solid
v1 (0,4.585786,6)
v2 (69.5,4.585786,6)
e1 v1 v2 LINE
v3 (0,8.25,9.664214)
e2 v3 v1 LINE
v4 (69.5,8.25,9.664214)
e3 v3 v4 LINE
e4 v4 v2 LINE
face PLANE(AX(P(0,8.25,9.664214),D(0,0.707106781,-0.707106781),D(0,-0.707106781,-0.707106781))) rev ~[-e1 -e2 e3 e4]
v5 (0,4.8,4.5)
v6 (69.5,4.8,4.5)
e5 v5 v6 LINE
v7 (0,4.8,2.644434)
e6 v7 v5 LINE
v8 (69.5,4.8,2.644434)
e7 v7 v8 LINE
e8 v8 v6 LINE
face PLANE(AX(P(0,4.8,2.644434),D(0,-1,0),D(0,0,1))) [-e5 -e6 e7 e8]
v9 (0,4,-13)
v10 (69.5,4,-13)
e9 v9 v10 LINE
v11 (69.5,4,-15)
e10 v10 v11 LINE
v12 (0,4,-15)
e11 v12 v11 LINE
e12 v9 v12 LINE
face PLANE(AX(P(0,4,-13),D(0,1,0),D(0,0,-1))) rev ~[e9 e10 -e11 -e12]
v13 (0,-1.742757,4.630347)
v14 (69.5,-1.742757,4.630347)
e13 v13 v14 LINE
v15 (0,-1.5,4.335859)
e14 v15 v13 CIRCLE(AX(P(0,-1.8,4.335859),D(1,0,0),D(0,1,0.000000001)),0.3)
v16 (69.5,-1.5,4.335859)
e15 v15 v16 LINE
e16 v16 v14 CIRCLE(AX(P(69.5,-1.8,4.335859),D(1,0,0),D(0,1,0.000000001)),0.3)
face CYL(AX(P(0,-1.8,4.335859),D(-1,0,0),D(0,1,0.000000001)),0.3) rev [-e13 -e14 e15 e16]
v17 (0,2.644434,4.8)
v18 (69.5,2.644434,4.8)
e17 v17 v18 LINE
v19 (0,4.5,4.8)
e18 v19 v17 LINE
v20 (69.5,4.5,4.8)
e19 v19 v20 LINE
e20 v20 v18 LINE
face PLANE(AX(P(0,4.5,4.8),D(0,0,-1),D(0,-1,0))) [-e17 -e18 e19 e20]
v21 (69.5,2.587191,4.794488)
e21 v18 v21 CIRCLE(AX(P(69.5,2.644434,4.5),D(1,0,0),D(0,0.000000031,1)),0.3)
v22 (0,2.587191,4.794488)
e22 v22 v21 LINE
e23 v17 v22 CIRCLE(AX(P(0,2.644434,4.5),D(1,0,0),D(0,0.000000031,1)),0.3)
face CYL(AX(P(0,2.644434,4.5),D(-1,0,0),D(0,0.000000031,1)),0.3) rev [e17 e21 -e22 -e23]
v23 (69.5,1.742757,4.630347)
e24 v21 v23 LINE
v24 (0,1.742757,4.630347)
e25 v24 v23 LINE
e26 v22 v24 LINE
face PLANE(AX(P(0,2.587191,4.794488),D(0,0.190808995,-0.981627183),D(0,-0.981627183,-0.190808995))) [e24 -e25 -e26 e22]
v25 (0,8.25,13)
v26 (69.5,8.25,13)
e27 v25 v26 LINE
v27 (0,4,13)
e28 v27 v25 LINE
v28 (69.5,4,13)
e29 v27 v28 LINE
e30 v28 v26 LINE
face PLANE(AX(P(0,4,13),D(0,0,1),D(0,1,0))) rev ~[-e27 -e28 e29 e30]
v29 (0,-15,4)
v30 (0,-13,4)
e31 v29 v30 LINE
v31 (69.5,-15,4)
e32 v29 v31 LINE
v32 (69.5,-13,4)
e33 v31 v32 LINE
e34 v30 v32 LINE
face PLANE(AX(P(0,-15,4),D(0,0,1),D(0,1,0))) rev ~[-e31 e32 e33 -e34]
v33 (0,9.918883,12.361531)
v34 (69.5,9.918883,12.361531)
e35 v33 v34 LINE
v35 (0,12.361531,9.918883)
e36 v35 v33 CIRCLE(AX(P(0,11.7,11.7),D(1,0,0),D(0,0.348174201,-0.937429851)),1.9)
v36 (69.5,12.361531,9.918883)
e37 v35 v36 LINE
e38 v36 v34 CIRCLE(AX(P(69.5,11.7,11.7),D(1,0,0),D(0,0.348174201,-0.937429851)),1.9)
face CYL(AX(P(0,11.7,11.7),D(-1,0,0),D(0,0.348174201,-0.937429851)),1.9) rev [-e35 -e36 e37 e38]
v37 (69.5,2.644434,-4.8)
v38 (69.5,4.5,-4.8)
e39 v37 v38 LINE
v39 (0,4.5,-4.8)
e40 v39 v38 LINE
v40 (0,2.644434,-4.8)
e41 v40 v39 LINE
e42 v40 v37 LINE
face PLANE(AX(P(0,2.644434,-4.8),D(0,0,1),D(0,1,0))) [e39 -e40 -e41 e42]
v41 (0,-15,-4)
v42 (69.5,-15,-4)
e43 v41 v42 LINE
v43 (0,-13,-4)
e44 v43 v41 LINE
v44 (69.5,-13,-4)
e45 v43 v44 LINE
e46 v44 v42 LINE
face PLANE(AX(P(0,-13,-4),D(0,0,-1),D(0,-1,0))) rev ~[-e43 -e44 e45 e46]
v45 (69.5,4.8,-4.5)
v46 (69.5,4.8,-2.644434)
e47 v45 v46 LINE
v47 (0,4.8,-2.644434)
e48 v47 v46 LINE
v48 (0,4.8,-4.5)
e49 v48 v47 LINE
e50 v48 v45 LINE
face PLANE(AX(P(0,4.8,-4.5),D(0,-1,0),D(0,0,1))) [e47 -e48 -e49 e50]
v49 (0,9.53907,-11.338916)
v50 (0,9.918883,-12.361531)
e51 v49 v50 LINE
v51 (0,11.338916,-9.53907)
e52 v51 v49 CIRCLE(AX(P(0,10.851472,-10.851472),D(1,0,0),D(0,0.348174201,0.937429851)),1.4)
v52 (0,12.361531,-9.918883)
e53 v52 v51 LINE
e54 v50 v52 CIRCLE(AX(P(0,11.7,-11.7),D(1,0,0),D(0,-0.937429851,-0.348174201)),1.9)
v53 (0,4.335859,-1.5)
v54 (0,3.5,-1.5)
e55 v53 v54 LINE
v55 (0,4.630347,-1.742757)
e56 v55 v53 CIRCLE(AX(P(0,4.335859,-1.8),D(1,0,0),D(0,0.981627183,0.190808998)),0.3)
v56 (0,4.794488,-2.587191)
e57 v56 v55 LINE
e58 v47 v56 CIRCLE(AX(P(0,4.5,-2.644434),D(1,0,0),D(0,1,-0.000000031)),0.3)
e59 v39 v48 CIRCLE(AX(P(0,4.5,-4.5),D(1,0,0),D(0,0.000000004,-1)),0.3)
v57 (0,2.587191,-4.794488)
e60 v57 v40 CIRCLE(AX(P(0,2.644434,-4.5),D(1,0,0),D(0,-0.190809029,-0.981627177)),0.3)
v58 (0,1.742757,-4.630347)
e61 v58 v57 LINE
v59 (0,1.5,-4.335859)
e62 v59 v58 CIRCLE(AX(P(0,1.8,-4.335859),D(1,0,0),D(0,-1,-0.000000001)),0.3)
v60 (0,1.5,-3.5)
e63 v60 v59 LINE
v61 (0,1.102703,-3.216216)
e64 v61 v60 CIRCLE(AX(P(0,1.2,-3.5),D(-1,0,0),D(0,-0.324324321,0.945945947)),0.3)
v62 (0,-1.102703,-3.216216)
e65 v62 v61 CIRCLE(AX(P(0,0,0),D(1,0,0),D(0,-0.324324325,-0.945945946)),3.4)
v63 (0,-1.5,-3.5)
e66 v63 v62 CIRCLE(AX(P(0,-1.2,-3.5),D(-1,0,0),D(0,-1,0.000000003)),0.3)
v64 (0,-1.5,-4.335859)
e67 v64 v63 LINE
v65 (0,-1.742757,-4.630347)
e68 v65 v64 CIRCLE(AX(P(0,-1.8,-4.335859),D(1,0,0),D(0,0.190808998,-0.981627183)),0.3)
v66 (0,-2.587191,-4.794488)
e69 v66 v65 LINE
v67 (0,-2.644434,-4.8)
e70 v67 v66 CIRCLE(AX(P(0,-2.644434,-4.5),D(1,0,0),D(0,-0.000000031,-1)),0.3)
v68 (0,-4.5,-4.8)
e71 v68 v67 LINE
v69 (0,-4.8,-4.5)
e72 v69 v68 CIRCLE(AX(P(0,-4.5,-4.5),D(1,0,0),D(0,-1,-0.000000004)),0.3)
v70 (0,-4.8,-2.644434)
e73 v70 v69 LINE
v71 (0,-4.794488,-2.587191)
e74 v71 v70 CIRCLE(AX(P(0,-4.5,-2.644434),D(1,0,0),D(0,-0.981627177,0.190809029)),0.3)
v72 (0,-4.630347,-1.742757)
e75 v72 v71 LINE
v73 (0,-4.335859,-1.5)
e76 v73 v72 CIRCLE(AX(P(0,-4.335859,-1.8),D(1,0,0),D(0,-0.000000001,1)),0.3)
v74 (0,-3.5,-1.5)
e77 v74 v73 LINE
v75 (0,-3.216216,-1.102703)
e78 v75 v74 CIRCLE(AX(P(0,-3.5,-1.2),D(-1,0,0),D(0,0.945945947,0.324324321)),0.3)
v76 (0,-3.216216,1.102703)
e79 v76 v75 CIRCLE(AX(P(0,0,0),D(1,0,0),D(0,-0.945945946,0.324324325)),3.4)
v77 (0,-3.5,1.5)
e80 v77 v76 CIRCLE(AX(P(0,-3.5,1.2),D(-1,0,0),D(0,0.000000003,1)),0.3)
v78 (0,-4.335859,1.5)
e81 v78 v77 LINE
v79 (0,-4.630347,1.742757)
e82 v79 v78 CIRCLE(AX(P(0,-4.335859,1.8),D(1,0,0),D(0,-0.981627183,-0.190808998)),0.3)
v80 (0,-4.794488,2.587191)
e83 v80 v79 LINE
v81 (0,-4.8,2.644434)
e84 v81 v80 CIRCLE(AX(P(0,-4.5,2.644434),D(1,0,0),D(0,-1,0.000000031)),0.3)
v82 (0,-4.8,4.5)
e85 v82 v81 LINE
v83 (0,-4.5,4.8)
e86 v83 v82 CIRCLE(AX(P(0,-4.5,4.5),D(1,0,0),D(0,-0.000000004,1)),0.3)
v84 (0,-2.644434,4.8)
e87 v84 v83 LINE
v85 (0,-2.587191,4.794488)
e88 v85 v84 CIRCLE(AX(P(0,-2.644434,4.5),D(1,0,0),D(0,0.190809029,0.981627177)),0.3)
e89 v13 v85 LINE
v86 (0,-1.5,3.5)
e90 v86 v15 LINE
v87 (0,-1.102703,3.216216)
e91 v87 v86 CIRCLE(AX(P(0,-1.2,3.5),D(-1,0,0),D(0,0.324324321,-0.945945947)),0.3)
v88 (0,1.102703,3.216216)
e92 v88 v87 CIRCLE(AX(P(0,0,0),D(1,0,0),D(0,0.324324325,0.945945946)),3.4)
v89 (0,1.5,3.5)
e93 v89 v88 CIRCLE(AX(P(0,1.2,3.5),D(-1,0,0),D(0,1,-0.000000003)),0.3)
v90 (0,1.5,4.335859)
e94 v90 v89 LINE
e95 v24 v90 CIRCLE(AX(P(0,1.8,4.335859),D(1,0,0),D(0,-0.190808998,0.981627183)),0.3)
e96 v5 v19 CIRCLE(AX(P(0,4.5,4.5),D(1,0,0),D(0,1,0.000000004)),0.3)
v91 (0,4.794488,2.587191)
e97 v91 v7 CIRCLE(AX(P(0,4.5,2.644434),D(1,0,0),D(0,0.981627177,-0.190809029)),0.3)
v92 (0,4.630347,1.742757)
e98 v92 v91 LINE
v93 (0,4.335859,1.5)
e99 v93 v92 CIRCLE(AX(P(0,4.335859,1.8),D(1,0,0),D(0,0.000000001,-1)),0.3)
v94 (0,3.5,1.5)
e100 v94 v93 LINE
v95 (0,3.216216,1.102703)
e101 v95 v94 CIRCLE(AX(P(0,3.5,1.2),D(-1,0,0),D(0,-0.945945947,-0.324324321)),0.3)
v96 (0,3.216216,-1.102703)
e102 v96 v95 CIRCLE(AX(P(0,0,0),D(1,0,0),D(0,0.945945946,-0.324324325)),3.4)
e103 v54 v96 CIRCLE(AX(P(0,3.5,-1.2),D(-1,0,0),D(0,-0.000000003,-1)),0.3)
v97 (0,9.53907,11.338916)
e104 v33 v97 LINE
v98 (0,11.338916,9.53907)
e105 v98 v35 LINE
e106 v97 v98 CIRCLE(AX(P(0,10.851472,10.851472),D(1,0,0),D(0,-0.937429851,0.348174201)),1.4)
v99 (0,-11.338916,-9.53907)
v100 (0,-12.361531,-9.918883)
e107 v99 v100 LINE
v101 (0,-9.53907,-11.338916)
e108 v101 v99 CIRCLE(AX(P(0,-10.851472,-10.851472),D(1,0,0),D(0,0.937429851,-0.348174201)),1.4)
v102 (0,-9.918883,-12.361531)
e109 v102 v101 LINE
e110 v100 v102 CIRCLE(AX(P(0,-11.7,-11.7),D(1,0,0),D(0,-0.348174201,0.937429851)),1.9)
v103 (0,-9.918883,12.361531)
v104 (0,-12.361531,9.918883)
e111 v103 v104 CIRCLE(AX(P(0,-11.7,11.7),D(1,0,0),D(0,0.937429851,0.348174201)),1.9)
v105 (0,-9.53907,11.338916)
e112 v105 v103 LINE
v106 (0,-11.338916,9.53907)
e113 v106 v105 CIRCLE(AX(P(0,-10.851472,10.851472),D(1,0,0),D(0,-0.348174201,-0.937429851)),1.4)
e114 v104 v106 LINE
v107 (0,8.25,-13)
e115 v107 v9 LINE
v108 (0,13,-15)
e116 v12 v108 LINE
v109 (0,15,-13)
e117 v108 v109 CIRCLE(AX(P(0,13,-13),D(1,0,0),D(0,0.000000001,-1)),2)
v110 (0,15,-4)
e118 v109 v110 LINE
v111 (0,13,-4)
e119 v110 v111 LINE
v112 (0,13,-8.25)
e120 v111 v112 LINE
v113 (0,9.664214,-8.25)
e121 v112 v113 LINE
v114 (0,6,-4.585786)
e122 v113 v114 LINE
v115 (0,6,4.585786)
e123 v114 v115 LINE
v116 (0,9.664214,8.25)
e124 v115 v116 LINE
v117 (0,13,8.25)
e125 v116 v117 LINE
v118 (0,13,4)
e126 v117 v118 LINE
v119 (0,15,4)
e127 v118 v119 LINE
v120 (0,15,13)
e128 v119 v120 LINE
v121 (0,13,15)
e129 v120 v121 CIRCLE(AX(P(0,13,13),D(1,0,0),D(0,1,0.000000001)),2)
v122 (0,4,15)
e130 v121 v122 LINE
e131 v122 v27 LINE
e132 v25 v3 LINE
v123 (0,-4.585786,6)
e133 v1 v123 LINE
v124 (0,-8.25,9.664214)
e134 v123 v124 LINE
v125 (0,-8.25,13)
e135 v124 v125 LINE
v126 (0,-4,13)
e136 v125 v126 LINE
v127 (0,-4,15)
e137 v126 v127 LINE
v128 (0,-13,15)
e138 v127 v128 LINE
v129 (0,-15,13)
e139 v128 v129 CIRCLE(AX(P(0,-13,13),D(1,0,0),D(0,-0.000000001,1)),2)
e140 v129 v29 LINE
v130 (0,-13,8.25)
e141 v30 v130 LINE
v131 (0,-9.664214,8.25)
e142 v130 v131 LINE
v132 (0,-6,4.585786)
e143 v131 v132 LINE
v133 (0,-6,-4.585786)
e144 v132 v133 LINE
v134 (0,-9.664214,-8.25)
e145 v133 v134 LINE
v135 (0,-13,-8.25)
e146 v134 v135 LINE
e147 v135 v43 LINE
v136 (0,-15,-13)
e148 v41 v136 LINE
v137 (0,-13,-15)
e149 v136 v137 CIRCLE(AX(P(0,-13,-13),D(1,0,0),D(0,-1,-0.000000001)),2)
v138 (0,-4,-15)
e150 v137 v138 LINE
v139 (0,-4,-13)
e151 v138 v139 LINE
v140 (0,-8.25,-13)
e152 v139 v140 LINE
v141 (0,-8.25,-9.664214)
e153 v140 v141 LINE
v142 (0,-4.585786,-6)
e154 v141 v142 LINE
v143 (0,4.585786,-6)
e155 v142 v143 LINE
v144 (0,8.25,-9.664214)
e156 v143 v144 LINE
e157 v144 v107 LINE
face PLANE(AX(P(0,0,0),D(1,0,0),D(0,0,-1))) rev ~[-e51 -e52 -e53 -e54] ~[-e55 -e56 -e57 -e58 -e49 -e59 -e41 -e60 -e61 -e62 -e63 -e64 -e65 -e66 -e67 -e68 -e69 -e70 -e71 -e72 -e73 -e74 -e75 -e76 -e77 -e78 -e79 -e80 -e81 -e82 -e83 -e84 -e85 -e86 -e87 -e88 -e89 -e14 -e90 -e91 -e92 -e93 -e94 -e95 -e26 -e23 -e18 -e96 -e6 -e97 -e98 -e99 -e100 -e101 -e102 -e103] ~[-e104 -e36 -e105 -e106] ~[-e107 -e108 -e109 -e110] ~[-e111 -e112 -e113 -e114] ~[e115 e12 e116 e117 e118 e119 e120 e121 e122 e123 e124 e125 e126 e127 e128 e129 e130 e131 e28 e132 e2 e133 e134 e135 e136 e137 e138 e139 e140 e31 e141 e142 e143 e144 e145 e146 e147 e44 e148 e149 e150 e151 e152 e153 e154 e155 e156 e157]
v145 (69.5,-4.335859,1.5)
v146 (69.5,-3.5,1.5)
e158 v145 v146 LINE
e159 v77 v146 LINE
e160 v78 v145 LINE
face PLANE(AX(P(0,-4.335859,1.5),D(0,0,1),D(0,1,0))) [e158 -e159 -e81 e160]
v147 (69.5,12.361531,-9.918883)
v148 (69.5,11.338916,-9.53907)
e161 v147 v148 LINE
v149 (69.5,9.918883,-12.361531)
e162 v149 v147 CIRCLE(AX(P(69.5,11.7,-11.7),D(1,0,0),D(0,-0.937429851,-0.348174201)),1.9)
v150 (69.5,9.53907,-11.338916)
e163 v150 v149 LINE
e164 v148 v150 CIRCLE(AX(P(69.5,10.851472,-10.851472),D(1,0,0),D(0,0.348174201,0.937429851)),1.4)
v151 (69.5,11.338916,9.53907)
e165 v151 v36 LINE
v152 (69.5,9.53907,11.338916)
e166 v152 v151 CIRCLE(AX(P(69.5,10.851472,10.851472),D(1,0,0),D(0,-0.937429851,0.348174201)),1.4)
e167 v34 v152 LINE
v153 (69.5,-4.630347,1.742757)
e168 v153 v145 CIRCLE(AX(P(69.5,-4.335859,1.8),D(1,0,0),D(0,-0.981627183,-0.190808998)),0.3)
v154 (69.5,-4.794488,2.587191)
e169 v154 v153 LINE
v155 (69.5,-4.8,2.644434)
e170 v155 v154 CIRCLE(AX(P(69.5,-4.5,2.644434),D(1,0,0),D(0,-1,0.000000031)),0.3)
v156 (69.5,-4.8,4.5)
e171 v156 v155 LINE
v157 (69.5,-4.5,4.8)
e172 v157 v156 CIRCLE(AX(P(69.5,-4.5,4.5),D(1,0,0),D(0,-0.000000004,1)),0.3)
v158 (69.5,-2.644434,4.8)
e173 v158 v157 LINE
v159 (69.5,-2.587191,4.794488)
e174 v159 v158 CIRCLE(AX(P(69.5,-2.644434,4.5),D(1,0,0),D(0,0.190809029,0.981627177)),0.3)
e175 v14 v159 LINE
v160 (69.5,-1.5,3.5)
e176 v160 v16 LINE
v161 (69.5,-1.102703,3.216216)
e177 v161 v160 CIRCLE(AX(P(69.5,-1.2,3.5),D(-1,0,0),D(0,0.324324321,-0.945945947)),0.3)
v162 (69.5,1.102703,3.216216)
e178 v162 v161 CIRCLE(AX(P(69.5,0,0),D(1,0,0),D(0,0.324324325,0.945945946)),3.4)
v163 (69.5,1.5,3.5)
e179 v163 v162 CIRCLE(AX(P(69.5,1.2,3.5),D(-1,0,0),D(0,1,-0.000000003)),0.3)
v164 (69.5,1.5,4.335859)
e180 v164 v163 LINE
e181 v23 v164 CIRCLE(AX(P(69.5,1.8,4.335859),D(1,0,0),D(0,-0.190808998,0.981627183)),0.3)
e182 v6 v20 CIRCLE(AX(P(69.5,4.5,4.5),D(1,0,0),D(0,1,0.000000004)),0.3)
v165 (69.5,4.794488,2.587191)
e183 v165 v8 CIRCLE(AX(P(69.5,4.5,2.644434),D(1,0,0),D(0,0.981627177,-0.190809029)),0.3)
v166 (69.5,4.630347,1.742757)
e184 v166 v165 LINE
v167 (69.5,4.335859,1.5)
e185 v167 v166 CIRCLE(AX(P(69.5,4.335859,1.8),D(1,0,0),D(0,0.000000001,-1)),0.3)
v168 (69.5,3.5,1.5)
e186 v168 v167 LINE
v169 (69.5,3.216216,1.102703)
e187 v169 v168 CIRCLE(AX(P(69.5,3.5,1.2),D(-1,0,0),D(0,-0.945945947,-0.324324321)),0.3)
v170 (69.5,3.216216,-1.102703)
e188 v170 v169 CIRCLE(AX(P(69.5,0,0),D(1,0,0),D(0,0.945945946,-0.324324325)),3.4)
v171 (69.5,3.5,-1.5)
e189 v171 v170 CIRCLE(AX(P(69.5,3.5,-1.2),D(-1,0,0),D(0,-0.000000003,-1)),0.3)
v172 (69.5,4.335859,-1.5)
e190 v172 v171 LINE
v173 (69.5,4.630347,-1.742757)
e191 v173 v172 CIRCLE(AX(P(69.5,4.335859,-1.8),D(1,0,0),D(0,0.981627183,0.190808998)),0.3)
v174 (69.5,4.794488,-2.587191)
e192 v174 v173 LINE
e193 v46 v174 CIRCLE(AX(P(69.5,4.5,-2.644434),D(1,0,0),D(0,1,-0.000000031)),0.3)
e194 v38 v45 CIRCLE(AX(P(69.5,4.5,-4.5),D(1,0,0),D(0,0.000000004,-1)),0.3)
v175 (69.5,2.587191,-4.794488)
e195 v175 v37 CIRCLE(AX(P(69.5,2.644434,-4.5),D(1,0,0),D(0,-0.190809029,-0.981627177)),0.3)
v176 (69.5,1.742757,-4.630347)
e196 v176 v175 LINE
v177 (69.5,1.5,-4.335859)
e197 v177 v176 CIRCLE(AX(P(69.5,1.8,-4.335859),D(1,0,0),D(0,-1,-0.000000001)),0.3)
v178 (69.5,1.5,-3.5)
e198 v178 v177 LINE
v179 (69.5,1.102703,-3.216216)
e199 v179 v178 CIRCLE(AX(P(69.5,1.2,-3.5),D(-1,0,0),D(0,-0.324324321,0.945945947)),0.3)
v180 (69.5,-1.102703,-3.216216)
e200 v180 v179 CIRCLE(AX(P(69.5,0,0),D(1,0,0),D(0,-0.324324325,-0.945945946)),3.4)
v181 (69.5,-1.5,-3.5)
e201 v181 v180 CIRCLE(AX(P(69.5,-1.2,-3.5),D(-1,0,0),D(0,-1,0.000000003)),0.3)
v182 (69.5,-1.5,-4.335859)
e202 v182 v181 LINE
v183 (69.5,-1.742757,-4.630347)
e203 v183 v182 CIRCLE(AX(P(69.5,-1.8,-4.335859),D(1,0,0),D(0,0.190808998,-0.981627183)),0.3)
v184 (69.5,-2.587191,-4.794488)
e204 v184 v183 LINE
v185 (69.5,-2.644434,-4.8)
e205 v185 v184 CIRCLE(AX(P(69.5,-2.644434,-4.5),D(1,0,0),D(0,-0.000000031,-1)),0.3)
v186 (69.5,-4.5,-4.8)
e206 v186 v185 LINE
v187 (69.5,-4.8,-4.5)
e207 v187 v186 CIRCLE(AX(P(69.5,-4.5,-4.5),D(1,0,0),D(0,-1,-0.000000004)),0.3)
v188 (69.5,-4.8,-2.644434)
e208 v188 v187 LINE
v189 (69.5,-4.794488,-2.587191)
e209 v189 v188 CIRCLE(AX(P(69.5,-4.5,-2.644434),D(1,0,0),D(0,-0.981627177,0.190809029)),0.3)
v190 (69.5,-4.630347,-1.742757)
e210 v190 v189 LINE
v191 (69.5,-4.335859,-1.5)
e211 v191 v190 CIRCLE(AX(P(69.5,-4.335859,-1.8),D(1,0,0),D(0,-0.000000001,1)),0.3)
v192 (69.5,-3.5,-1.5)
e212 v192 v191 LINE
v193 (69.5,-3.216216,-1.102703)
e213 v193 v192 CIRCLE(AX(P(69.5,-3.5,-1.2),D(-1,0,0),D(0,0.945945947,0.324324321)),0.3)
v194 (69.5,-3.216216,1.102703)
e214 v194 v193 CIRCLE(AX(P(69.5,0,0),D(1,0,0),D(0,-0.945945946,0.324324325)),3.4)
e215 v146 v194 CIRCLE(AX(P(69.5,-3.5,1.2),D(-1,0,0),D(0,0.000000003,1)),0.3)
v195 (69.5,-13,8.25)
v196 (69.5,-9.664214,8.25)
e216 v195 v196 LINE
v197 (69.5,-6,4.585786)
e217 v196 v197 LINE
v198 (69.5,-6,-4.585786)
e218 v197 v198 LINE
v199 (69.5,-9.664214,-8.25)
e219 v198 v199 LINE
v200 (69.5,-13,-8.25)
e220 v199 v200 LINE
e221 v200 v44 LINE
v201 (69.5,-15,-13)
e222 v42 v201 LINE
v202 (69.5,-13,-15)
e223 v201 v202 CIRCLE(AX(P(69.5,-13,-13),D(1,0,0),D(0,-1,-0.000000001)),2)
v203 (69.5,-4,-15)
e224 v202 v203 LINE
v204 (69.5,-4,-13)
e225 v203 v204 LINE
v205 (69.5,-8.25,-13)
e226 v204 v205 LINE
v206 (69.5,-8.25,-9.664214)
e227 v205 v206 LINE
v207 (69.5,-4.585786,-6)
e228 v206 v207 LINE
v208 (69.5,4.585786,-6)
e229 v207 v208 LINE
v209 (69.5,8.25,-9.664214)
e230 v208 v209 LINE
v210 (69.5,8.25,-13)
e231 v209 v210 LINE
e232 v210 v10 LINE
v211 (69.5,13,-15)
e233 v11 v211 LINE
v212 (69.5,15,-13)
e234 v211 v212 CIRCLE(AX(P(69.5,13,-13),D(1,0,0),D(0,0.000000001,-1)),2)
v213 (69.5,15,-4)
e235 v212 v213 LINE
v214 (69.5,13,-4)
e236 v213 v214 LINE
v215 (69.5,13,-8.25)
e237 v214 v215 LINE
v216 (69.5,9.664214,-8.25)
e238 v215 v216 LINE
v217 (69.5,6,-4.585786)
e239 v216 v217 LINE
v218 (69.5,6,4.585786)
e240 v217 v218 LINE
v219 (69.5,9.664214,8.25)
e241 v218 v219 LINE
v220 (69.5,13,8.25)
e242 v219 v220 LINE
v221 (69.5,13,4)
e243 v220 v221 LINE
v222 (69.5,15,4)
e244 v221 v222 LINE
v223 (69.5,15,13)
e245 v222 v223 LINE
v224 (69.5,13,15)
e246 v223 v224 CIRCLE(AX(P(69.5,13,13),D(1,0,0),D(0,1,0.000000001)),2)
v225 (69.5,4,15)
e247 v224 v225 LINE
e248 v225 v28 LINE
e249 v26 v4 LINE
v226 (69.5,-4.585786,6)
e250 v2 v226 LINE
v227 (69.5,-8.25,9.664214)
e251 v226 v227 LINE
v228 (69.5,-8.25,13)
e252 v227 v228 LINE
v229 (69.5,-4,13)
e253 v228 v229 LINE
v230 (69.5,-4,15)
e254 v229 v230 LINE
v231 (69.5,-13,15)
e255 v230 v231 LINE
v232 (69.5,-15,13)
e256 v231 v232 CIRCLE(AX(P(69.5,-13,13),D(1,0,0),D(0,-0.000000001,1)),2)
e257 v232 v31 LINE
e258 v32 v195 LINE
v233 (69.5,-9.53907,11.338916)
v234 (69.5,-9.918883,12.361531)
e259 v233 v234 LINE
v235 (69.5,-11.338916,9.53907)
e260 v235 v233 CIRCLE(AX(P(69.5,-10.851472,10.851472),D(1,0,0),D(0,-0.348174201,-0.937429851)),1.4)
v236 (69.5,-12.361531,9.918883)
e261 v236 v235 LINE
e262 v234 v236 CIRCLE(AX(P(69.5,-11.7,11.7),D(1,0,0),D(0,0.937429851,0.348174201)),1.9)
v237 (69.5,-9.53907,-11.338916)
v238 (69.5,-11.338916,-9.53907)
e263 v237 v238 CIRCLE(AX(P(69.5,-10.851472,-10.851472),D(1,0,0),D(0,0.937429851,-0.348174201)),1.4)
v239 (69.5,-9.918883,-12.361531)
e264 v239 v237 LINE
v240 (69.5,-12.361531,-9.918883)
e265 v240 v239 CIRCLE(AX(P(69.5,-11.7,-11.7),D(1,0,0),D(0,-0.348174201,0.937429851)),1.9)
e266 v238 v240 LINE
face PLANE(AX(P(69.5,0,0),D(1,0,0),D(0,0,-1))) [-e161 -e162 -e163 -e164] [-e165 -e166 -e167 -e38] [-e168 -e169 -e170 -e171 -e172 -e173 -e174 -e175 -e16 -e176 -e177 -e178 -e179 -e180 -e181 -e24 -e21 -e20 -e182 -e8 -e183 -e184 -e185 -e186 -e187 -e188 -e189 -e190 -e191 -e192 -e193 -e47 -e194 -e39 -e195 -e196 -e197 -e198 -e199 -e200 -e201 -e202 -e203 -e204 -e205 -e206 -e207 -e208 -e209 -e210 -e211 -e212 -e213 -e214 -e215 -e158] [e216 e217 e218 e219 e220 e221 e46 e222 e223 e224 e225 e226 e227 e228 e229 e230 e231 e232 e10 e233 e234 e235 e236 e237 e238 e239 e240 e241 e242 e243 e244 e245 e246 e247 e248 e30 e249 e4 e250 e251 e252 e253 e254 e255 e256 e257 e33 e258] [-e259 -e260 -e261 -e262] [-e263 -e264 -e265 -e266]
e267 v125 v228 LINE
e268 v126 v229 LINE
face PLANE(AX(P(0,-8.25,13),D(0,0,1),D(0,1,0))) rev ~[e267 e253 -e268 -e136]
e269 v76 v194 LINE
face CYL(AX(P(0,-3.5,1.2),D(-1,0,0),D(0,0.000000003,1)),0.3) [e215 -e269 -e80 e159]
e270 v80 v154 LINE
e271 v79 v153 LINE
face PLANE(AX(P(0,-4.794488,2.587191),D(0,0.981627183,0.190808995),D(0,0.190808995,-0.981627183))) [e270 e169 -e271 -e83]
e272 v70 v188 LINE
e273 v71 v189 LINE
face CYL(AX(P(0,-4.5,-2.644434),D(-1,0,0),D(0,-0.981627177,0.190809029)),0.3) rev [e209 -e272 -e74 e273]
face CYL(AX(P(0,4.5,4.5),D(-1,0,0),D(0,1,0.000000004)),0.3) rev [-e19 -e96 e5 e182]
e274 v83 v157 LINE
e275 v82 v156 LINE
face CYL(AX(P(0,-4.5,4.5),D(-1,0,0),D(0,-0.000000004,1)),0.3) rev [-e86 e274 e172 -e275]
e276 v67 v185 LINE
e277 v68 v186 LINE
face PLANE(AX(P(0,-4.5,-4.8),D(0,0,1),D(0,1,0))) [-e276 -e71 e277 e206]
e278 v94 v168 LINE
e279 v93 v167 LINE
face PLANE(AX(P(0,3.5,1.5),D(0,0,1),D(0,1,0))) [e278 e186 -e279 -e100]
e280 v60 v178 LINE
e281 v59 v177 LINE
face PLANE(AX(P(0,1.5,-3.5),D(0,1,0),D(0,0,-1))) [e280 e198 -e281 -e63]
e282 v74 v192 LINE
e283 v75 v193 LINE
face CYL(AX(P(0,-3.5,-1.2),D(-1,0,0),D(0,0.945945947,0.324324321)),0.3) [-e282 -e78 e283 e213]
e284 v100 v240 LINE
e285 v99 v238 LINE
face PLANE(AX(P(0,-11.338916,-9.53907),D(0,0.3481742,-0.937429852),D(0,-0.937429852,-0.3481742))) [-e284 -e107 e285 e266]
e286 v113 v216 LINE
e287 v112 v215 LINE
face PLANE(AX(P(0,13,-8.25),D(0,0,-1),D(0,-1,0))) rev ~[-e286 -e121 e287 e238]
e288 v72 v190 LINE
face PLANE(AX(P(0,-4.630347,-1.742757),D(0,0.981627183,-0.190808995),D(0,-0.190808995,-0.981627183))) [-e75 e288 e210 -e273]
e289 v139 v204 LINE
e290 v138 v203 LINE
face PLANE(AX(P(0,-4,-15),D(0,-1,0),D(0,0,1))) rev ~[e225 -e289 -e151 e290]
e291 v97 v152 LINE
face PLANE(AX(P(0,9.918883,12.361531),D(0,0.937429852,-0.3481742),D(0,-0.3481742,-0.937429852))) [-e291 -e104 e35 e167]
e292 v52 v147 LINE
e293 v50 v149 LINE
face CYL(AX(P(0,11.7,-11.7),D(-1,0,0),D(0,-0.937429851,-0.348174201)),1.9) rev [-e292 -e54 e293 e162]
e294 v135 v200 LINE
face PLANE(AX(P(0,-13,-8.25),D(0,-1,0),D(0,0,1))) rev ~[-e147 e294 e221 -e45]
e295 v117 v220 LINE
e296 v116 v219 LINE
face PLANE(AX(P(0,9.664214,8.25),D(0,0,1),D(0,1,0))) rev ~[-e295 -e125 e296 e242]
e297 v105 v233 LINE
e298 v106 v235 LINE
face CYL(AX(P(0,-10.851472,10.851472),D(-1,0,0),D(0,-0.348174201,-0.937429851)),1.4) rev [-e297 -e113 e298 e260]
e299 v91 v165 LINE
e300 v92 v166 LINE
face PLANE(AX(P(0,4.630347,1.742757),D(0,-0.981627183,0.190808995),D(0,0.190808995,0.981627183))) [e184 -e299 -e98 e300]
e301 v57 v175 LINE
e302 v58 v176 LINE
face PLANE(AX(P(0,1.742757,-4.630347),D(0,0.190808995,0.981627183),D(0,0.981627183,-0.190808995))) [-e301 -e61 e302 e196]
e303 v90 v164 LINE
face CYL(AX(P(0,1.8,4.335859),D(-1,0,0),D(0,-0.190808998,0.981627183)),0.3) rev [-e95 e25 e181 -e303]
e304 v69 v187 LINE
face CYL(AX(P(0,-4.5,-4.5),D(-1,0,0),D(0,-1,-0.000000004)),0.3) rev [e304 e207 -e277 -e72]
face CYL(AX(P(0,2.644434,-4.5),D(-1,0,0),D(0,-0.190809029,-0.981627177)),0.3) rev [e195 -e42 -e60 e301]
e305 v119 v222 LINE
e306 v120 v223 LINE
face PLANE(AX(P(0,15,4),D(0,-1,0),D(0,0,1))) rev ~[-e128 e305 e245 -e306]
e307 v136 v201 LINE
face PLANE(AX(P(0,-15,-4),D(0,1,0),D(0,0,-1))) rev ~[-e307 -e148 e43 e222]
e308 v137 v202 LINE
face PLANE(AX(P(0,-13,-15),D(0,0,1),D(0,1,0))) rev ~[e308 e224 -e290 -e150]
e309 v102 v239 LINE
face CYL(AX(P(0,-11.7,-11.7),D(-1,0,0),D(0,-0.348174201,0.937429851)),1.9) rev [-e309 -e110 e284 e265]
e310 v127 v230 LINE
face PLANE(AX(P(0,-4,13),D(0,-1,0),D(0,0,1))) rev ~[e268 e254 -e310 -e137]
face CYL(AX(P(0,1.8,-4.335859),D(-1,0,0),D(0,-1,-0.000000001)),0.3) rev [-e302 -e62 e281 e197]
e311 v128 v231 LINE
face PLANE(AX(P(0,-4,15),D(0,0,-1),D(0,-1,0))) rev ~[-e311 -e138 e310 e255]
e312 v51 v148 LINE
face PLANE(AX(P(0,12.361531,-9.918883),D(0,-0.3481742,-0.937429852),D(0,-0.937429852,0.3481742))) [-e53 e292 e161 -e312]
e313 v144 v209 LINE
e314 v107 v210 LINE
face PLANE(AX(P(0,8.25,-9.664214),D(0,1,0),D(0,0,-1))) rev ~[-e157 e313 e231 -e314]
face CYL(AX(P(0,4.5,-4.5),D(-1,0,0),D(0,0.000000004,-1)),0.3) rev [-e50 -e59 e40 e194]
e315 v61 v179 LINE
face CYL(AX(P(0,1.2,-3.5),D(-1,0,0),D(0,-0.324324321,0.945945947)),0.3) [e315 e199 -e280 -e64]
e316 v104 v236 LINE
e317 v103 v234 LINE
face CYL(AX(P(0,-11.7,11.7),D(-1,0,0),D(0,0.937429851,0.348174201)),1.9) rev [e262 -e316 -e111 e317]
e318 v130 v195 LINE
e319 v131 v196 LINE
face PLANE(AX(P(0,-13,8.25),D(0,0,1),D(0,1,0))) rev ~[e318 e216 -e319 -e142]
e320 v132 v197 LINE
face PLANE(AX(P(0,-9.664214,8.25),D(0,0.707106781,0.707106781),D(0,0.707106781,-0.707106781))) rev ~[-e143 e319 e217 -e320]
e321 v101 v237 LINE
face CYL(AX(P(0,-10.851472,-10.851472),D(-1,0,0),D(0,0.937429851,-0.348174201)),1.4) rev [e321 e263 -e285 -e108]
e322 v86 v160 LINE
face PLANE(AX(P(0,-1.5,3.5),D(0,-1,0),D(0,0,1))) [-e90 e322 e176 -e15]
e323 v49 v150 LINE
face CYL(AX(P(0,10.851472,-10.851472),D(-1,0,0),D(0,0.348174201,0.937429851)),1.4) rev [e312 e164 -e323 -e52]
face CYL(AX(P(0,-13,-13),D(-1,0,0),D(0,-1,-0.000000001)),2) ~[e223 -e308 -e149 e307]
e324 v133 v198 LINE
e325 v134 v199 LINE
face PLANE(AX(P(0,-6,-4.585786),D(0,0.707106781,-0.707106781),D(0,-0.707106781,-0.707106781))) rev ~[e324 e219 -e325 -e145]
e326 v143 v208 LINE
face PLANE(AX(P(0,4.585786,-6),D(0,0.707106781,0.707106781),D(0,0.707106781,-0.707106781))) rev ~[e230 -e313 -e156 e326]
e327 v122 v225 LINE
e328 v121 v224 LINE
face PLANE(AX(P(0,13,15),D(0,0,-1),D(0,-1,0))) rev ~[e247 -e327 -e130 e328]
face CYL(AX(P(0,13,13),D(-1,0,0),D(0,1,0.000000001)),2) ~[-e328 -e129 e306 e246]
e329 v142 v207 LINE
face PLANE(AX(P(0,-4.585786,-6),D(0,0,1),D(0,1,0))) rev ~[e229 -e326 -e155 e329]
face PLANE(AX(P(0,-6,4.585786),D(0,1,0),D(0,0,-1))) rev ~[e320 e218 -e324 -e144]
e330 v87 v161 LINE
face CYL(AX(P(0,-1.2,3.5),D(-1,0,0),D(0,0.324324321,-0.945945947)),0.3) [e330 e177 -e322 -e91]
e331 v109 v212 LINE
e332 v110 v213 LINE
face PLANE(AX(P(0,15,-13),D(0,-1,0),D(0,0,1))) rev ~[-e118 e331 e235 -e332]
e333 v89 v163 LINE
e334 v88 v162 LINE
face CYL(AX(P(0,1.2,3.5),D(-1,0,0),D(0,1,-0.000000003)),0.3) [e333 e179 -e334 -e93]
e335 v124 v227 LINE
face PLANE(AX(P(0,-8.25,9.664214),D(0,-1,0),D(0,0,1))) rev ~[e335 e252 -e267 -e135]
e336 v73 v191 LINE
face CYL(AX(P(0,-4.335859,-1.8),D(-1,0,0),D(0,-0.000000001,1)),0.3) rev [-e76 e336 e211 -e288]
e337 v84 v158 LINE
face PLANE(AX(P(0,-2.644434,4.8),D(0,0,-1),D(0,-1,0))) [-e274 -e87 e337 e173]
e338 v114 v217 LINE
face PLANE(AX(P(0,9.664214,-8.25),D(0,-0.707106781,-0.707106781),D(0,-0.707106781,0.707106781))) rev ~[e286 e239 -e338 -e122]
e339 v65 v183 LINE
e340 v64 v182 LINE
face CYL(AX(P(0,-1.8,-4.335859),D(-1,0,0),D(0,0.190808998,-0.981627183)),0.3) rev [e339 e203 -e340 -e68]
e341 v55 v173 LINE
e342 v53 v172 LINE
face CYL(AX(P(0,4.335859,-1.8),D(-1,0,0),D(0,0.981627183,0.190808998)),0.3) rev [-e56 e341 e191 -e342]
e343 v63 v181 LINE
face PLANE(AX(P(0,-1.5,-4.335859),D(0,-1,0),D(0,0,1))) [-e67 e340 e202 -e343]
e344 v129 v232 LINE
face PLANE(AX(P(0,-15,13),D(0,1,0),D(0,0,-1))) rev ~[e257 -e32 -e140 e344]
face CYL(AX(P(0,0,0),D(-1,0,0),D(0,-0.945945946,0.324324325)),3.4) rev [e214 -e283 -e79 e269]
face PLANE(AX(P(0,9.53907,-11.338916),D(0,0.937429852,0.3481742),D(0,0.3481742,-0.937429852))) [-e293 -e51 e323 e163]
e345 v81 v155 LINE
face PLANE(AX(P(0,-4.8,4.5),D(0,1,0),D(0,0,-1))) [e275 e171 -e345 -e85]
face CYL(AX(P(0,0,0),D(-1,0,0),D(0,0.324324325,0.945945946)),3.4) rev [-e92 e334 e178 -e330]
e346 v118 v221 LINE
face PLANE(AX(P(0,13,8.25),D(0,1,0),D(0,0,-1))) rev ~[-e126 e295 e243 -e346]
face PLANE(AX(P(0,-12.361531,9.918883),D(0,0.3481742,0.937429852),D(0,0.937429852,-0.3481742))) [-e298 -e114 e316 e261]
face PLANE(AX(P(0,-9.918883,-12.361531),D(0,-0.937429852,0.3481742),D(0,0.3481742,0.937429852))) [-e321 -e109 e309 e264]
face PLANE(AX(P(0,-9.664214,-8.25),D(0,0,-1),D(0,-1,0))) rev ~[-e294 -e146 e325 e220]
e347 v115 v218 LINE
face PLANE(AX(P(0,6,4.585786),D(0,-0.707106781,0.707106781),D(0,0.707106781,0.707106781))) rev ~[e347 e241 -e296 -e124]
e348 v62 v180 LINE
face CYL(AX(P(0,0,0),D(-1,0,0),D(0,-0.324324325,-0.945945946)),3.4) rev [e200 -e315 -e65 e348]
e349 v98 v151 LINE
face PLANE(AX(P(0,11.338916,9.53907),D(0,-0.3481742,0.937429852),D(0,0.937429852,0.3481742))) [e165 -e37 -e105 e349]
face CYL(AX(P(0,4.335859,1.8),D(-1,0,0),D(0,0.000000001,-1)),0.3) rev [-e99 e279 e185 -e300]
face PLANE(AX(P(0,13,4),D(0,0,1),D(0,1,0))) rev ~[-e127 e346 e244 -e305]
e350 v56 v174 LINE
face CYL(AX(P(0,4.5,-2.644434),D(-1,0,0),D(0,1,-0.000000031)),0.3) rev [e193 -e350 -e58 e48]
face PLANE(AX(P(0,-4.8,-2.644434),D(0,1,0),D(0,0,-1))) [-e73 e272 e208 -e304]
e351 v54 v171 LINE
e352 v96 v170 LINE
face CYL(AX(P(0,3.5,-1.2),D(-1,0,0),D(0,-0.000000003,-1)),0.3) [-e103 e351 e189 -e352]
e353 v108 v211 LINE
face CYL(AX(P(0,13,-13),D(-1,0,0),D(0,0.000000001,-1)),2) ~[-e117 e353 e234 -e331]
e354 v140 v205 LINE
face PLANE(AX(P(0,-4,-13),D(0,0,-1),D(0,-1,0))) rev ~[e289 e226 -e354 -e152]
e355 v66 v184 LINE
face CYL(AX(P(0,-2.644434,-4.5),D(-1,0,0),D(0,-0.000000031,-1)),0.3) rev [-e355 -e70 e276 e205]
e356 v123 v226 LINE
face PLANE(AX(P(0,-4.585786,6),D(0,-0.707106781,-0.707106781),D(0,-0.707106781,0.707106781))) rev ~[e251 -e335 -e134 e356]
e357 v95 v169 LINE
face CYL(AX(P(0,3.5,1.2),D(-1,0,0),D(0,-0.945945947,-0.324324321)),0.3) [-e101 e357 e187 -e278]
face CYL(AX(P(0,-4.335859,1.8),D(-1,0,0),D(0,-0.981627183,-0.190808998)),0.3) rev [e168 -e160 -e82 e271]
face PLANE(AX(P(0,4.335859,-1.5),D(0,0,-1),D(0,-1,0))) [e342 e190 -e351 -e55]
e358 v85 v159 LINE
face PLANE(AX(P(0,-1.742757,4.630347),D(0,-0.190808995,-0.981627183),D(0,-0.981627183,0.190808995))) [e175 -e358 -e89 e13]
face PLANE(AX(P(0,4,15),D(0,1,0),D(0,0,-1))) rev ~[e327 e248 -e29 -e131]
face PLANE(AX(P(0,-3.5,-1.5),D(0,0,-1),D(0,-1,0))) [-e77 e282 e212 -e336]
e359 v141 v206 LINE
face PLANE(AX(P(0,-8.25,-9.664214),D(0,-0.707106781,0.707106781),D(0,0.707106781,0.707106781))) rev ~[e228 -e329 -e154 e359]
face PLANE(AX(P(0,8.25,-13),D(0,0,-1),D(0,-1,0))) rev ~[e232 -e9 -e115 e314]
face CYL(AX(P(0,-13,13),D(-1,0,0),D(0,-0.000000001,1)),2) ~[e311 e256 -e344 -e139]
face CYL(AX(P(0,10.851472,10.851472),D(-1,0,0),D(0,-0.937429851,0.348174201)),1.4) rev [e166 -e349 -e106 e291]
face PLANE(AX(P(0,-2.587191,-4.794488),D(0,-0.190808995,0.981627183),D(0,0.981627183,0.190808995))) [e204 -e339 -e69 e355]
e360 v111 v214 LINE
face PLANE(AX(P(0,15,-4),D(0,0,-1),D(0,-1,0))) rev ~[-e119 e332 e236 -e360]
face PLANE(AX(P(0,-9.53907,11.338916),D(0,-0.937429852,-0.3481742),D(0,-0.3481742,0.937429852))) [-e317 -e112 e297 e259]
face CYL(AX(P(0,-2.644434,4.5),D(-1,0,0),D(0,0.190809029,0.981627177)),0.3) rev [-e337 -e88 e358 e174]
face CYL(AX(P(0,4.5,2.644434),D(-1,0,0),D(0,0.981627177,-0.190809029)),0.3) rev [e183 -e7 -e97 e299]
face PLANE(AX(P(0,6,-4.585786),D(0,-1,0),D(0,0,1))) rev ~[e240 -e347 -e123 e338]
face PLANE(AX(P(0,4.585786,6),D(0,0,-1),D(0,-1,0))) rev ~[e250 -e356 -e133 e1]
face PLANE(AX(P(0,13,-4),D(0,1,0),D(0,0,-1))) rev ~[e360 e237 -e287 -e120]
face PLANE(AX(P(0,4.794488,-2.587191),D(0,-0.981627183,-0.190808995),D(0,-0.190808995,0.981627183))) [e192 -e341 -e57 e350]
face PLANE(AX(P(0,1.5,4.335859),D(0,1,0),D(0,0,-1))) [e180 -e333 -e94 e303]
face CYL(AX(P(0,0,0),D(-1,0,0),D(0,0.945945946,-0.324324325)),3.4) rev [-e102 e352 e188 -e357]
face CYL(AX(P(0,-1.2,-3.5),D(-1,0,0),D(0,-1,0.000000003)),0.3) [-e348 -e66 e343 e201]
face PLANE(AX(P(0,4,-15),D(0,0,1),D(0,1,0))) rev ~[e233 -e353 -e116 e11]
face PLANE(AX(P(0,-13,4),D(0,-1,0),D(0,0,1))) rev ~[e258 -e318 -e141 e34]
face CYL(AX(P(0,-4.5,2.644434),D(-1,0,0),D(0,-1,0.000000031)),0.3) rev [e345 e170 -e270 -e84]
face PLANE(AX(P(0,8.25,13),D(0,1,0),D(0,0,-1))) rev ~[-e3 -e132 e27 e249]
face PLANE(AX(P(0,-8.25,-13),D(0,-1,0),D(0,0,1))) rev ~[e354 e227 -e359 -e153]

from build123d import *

# Parameters (mm, degrees)
BOSS_EXTRUDE1_DEPTH = 69.5


with BuildPart() as part:
    # Sketch1 → Boss-Extrude1 (new body)
    with BuildSketch(Plane(origin=(0, 0, 0), x_dir=(0, 0, -1), z_dir=(1, 0, 0))):
        with BuildLine():
            Line((-15, 13), (-15, 4))
            Line((-15, 4), (-13, 4))
            Line((-13, 4), (-13, 8.25))
            Line((-13, 8.25), (-9.664213562, 8.25))
            Line((-9.664213562, 8.25), (-6, 4.585786438))
            Line((-6, 4.585786438), (-6, -4.585786438))
            Line((-6, -4.585786438), (-9.664213562, -8.25))
            Line((-9.664213562, -8.25), (-13, -8.25))
            Line((-13, -8.25), (-13, -4))
            Line((-13, -4), (-15, -4))
            Line((-15, -4), (-15, -13))
            ThreePointArc((-15, -13), (-14.414213562, -14.414213562), (-13, -15))
            Line((-13, -15), (-4, -15))
            Line((-4, -15), (-4, -13))
            Line((-4, -13), (-8.25, -13))
            Line((-8.25, -13), (-8.25, -9.664213562))
            Line((-8.25, -9.664213562), (-4.585786438, -6))
            Line((-4.585786438, -6), (4.585786438, -6))
            Line((4.585786438, -6), (8.25, -9.664213562))
            Line((8.25, -9.664213562), (8.25, -13))
            Line((8.25, -13), (4, -13))
            Line((4, -13), (4, -15))
            Line((4, -15), (13, -15))
            ThreePointArc((13, -15), (14.414213562, -14.414213562), (15, -13))
            Line((15, -13), (15, -4))
            Line((15, -4), (13, -4))
            Line((13, -4), (13, -8.25))
            Line((13, -8.25), (9.664213562, -8.25))
            Line((9.664213562, -8.25), (6, -4.585786438))
            Line((6, -4.585786438), (6, 4.585786438))
            Line((6, 4.585786438), (9.664213562, 8.25))
            Line((9.664213562, 8.25), (13, 8.25))
            Line((13, 8.25), (13, 4))
            Line((13, 4), (15, 4))
            Line((15, 4), (15, 13))
            ThreePointArc((15, 13), (14.414213562, 14.414213562), (13, 15))
            Line((13, 15), (4, 15))
            Line((4, 15), (4, 13))
            Line((4, 13), (8.25, 13))
            Line((8.25, 13), (8.25, 9.664213562))
            Line((8.25, 9.664213562), (4.585786438, 6))
            Line((4.585786438, 6), (-4.585786438, 6))
            Line((-4.585786438, 6), (-8.25, 9.664213562))
            Line((-8.25, 9.664213562), (-8.25, 13))
            Line((-8.25, 13), (-4, 13))
            Line((-4, 13), (-4, 15))
            Line((-4, 15), (-13, 15))
            ThreePointArc((-13, 15), (-14.414213562, 14.414213562), (-15, 13))
        make_face()
        with BuildLine():
            Line((-9.539070071, 11.338915743), (-9.918883282, 12.361530981))
            ThreePointArc((-9.918883282, 12.361530981), (-13.043502884, 13.043502884), (-12.361530981, 9.918883282))
            Line((-12.361530981, 9.918883282), (-11.338915743, 9.539070071))
            ThreePointArc((-11.338915743, 9.539070071), (-9.861522369, 9.861522369), (-9.539070071, 11.338915743))
        make_face(mode=Mode.SUBTRACT)
        with BuildLine():
            Line((9.918883282, 12.361530981), (9.539070071, 11.338915743))
            ThreePointArc((9.539070071, 11.338915743), (9.861522369, 9.861522369), (11.338915743, 9.539070071))
            Line((11.338915743, 9.539070071), (12.361530981, 9.918883282))
            ThreePointArc((12.361530981, 9.918883282), (13.043502884, 13.043502884), (9.918883282, 12.361530981))
        make_face(mode=Mode.SUBTRACT)
        with BuildLine():
            Line((12.361530981, -9.918883282), (11.338915743, -9.539070071))
            ThreePointArc((11.338915743, -9.539070071), (9.861522369, -9.861522369), (9.539070071, -11.338915743))
            Line((9.539070071, -11.338915743), (9.918883282, -12.361530981))
            ThreePointArc((9.918883282, -12.361530981), (13.043502884, -13.043502884), (12.361530981, -9.918883282))
        make_face(mode=Mode.SUBTRACT)
        with BuildLine():
            Line((-11.338915743, -9.539070071), (-12.361530981, -9.918883282))
            ThreePointArc((-12.361530981, -9.918883282), (-13.043502884, -13.043502884), (-9.918883282, -12.361530981))
            Line((-9.918883282, -12.361530981), (-9.539070071, -11.338915743))
            ThreePointArc((-9.539070071, -11.338915743), (-9.861522369, -9.861522369), (-11.338915743, -9.539070071))
        make_face(mode=Mode.SUBTRACT)
        with BuildLine():
            Line((-4.8, -2.644433572), (-4.8, -4.5))
            ThreePointArc((-4.8, -4.5), (-4.712132034, -4.712132034), (-4.5, -4.8))
            Line((-4.5, -4.8), (-2.644433572, -4.8))
            ThreePointArc((-2.644433572, -4.8), (-2.615679847, -4.79861886), (-2.587190874, -4.794488155))
            Line((-2.587190874, -4.794488155), (-1.742757301, -4.630346896))
            ThreePointArc((-1.742757301, -4.630346896), (-1.568512625, -4.526682207), (-1.5, -4.335858741))
            Line((-1.5, -4.335858741), (-1.5, -3.5))
            ThreePointArc((-1.5, -3.5), (-1.374371458, -3.255879959), (-1.102702703, -3.216216216))
            ThreePointArc((-1.102702703, -3.216216216), (0, -3.4), (1.102702703, -3.216216216))
            ThreePointArc((1.102702703, -3.216216216), (1.374371458, -3.255879959), (1.5, -3.5))
            Line((1.5, -3.5), (1.5, -4.335858741))
            ThreePointArc((1.5, -4.335858741), (1.568512625, -4.526682207), (1.742757301, -4.630346896))
            Line((1.742757301, -4.630346896), (2.587190874, -4.794488155))
            ThreePointArc((2.587190874, -4.794488155), (2.615679847, -4.79861886), (2.644433572, -4.8))
            Line((2.644433572, -4.8), (4.5, -4.8))
            ThreePointArc((4.5, -4.8), (4.712132034, -4.712132034), (4.8, -4.5))
            Line((4.8, -4.5), (4.8, -2.644433572))
            ThreePointArc((4.8, -2.644433572), (4.79861886, -2.615679847), (4.794488155, -2.587190874))
            Line((4.794488155, -2.587190874), (4.630346896, -1.742757301))
            ThreePointArc((4.630346896, -1.742757301), (4.526682207, -1.568512625), (4.335858741, -1.5))
            Line((4.335858741, -1.5), (3.5, -1.5))
            ThreePointArc((3.5, -1.5), (3.255879959, -1.374371458), (3.216216216, -1.102702703))
            ThreePointArc((3.216216216, -1.102702703), (3.4, 0), (3.216216216, 1.102702703))
            ThreePointArc((3.216216216, 1.102702703), (3.255879959, 1.374371458), (3.5, 1.5))
            Line((3.5, 1.5), (4.335858741, 1.5))
            ThreePointArc((4.335858741, 1.5), (4.526682207, 1.568512625), (4.630346896, 1.742757301))
            Line((4.630346896, 1.742757301), (4.794488155, 2.587190874))
            ThreePointArc((4.794488155, 2.587190874), (4.79861886, 2.615679847), (4.8, 2.644433572))
            Line((4.8, 2.644433572), (4.8, 4.5))
            ThreePointArc((4.8, 4.5), (4.712132034, 4.712132034), (4.5, 4.8))
            Line((4.5, 4.8), (2.644433572, 4.8))
            ThreePointArc((2.644433572, 4.8), (2.615679847, 4.79861886), (2.587190874, 4.794488155))
            Line((2.587190874, 4.794488155), (1.742757301, 4.630346896))
            ThreePointArc((1.742757301, 4.630346896), (1.568512625, 4.526682207), (1.5, 4.335858741))
            Line((1.5, 4.335858741), (1.5, 3.5))
            ThreePointArc((1.5, 3.5), (1.374371458, 3.255879959), (1.102702703, 3.216216216))
            ThreePointArc((1.102702703, 3.216216216), (0, 3.4), (-1.102702703, 3.216216216))
            ThreePointArc((-1.102702703, 3.216216216), (-1.374371458, 3.255879959), (-1.5, 3.5))
            Line((-1.5, 3.5), (-1.5, 4.335858741))
            ThreePointArc((-1.5, 4.335858741), (-1.568512625, 4.526682207), (-1.742757301, 4.630346896))
            Line((-1.742757301, 4.630346896), (-2.587190874, 4.794488155))
            ThreePointArc((-2.587190874, 4.794488155), (-2.615679847, 4.79861886), (-2.644433572, 4.8))
            Line((-2.644433572, 4.8), (-4.5, 4.8))
            ThreePointArc((-4.5, 4.8), (-4.712132034, 4.712132034), (-4.8, 4.5))
            Line((-4.8, 4.5), (-4.8, 2.644433572))
            ThreePointArc((-4.8, 2.644433572), (-4.79861886, 2.615679847), (-4.794488155, 2.587190874))
            Line((-4.794488155, 2.587190874), (-4.630346896, 1.742757301))
            ThreePointArc((-4.630346896, 1.742757301), (-4.526682207, 1.568512625), (-4.335858741, 1.5))
            Line((-4.335858741, 1.5), (-3.5, 1.5))
            ThreePointArc((-3.5, 1.5), (-3.255879959, 1.374371458), (-3.216216216, 1.102702703))
            ThreePointArc((-3.216216216, 1.102702703), (-3.4, 0), (-3.216216216, -1.102702703))
            ThreePointArc((-3.216216216, -1.102702703), (-3.255879959, -1.374371458), (-3.5, -1.5))
            Line((-3.5, -1.5), (-4.335858741, -1.5))
            ThreePointArc((-4.335858741, -1.5), (-4.526682207, -1.568512625), (-4.630346896, -1.742757301))
            Line((-4.630346896, -1.742757301), (-4.794488155, -2.587190874))
            ThreePointArc((-4.794488155, -2.587190874), (-4.79861886, -2.615679847), (-4.8, -2.644433572))
        make_face(mode=Mode.SUBTRACT)
    extrude(amount=BOSS_EXTRUDE1_DEPTH)


solid = part.part
